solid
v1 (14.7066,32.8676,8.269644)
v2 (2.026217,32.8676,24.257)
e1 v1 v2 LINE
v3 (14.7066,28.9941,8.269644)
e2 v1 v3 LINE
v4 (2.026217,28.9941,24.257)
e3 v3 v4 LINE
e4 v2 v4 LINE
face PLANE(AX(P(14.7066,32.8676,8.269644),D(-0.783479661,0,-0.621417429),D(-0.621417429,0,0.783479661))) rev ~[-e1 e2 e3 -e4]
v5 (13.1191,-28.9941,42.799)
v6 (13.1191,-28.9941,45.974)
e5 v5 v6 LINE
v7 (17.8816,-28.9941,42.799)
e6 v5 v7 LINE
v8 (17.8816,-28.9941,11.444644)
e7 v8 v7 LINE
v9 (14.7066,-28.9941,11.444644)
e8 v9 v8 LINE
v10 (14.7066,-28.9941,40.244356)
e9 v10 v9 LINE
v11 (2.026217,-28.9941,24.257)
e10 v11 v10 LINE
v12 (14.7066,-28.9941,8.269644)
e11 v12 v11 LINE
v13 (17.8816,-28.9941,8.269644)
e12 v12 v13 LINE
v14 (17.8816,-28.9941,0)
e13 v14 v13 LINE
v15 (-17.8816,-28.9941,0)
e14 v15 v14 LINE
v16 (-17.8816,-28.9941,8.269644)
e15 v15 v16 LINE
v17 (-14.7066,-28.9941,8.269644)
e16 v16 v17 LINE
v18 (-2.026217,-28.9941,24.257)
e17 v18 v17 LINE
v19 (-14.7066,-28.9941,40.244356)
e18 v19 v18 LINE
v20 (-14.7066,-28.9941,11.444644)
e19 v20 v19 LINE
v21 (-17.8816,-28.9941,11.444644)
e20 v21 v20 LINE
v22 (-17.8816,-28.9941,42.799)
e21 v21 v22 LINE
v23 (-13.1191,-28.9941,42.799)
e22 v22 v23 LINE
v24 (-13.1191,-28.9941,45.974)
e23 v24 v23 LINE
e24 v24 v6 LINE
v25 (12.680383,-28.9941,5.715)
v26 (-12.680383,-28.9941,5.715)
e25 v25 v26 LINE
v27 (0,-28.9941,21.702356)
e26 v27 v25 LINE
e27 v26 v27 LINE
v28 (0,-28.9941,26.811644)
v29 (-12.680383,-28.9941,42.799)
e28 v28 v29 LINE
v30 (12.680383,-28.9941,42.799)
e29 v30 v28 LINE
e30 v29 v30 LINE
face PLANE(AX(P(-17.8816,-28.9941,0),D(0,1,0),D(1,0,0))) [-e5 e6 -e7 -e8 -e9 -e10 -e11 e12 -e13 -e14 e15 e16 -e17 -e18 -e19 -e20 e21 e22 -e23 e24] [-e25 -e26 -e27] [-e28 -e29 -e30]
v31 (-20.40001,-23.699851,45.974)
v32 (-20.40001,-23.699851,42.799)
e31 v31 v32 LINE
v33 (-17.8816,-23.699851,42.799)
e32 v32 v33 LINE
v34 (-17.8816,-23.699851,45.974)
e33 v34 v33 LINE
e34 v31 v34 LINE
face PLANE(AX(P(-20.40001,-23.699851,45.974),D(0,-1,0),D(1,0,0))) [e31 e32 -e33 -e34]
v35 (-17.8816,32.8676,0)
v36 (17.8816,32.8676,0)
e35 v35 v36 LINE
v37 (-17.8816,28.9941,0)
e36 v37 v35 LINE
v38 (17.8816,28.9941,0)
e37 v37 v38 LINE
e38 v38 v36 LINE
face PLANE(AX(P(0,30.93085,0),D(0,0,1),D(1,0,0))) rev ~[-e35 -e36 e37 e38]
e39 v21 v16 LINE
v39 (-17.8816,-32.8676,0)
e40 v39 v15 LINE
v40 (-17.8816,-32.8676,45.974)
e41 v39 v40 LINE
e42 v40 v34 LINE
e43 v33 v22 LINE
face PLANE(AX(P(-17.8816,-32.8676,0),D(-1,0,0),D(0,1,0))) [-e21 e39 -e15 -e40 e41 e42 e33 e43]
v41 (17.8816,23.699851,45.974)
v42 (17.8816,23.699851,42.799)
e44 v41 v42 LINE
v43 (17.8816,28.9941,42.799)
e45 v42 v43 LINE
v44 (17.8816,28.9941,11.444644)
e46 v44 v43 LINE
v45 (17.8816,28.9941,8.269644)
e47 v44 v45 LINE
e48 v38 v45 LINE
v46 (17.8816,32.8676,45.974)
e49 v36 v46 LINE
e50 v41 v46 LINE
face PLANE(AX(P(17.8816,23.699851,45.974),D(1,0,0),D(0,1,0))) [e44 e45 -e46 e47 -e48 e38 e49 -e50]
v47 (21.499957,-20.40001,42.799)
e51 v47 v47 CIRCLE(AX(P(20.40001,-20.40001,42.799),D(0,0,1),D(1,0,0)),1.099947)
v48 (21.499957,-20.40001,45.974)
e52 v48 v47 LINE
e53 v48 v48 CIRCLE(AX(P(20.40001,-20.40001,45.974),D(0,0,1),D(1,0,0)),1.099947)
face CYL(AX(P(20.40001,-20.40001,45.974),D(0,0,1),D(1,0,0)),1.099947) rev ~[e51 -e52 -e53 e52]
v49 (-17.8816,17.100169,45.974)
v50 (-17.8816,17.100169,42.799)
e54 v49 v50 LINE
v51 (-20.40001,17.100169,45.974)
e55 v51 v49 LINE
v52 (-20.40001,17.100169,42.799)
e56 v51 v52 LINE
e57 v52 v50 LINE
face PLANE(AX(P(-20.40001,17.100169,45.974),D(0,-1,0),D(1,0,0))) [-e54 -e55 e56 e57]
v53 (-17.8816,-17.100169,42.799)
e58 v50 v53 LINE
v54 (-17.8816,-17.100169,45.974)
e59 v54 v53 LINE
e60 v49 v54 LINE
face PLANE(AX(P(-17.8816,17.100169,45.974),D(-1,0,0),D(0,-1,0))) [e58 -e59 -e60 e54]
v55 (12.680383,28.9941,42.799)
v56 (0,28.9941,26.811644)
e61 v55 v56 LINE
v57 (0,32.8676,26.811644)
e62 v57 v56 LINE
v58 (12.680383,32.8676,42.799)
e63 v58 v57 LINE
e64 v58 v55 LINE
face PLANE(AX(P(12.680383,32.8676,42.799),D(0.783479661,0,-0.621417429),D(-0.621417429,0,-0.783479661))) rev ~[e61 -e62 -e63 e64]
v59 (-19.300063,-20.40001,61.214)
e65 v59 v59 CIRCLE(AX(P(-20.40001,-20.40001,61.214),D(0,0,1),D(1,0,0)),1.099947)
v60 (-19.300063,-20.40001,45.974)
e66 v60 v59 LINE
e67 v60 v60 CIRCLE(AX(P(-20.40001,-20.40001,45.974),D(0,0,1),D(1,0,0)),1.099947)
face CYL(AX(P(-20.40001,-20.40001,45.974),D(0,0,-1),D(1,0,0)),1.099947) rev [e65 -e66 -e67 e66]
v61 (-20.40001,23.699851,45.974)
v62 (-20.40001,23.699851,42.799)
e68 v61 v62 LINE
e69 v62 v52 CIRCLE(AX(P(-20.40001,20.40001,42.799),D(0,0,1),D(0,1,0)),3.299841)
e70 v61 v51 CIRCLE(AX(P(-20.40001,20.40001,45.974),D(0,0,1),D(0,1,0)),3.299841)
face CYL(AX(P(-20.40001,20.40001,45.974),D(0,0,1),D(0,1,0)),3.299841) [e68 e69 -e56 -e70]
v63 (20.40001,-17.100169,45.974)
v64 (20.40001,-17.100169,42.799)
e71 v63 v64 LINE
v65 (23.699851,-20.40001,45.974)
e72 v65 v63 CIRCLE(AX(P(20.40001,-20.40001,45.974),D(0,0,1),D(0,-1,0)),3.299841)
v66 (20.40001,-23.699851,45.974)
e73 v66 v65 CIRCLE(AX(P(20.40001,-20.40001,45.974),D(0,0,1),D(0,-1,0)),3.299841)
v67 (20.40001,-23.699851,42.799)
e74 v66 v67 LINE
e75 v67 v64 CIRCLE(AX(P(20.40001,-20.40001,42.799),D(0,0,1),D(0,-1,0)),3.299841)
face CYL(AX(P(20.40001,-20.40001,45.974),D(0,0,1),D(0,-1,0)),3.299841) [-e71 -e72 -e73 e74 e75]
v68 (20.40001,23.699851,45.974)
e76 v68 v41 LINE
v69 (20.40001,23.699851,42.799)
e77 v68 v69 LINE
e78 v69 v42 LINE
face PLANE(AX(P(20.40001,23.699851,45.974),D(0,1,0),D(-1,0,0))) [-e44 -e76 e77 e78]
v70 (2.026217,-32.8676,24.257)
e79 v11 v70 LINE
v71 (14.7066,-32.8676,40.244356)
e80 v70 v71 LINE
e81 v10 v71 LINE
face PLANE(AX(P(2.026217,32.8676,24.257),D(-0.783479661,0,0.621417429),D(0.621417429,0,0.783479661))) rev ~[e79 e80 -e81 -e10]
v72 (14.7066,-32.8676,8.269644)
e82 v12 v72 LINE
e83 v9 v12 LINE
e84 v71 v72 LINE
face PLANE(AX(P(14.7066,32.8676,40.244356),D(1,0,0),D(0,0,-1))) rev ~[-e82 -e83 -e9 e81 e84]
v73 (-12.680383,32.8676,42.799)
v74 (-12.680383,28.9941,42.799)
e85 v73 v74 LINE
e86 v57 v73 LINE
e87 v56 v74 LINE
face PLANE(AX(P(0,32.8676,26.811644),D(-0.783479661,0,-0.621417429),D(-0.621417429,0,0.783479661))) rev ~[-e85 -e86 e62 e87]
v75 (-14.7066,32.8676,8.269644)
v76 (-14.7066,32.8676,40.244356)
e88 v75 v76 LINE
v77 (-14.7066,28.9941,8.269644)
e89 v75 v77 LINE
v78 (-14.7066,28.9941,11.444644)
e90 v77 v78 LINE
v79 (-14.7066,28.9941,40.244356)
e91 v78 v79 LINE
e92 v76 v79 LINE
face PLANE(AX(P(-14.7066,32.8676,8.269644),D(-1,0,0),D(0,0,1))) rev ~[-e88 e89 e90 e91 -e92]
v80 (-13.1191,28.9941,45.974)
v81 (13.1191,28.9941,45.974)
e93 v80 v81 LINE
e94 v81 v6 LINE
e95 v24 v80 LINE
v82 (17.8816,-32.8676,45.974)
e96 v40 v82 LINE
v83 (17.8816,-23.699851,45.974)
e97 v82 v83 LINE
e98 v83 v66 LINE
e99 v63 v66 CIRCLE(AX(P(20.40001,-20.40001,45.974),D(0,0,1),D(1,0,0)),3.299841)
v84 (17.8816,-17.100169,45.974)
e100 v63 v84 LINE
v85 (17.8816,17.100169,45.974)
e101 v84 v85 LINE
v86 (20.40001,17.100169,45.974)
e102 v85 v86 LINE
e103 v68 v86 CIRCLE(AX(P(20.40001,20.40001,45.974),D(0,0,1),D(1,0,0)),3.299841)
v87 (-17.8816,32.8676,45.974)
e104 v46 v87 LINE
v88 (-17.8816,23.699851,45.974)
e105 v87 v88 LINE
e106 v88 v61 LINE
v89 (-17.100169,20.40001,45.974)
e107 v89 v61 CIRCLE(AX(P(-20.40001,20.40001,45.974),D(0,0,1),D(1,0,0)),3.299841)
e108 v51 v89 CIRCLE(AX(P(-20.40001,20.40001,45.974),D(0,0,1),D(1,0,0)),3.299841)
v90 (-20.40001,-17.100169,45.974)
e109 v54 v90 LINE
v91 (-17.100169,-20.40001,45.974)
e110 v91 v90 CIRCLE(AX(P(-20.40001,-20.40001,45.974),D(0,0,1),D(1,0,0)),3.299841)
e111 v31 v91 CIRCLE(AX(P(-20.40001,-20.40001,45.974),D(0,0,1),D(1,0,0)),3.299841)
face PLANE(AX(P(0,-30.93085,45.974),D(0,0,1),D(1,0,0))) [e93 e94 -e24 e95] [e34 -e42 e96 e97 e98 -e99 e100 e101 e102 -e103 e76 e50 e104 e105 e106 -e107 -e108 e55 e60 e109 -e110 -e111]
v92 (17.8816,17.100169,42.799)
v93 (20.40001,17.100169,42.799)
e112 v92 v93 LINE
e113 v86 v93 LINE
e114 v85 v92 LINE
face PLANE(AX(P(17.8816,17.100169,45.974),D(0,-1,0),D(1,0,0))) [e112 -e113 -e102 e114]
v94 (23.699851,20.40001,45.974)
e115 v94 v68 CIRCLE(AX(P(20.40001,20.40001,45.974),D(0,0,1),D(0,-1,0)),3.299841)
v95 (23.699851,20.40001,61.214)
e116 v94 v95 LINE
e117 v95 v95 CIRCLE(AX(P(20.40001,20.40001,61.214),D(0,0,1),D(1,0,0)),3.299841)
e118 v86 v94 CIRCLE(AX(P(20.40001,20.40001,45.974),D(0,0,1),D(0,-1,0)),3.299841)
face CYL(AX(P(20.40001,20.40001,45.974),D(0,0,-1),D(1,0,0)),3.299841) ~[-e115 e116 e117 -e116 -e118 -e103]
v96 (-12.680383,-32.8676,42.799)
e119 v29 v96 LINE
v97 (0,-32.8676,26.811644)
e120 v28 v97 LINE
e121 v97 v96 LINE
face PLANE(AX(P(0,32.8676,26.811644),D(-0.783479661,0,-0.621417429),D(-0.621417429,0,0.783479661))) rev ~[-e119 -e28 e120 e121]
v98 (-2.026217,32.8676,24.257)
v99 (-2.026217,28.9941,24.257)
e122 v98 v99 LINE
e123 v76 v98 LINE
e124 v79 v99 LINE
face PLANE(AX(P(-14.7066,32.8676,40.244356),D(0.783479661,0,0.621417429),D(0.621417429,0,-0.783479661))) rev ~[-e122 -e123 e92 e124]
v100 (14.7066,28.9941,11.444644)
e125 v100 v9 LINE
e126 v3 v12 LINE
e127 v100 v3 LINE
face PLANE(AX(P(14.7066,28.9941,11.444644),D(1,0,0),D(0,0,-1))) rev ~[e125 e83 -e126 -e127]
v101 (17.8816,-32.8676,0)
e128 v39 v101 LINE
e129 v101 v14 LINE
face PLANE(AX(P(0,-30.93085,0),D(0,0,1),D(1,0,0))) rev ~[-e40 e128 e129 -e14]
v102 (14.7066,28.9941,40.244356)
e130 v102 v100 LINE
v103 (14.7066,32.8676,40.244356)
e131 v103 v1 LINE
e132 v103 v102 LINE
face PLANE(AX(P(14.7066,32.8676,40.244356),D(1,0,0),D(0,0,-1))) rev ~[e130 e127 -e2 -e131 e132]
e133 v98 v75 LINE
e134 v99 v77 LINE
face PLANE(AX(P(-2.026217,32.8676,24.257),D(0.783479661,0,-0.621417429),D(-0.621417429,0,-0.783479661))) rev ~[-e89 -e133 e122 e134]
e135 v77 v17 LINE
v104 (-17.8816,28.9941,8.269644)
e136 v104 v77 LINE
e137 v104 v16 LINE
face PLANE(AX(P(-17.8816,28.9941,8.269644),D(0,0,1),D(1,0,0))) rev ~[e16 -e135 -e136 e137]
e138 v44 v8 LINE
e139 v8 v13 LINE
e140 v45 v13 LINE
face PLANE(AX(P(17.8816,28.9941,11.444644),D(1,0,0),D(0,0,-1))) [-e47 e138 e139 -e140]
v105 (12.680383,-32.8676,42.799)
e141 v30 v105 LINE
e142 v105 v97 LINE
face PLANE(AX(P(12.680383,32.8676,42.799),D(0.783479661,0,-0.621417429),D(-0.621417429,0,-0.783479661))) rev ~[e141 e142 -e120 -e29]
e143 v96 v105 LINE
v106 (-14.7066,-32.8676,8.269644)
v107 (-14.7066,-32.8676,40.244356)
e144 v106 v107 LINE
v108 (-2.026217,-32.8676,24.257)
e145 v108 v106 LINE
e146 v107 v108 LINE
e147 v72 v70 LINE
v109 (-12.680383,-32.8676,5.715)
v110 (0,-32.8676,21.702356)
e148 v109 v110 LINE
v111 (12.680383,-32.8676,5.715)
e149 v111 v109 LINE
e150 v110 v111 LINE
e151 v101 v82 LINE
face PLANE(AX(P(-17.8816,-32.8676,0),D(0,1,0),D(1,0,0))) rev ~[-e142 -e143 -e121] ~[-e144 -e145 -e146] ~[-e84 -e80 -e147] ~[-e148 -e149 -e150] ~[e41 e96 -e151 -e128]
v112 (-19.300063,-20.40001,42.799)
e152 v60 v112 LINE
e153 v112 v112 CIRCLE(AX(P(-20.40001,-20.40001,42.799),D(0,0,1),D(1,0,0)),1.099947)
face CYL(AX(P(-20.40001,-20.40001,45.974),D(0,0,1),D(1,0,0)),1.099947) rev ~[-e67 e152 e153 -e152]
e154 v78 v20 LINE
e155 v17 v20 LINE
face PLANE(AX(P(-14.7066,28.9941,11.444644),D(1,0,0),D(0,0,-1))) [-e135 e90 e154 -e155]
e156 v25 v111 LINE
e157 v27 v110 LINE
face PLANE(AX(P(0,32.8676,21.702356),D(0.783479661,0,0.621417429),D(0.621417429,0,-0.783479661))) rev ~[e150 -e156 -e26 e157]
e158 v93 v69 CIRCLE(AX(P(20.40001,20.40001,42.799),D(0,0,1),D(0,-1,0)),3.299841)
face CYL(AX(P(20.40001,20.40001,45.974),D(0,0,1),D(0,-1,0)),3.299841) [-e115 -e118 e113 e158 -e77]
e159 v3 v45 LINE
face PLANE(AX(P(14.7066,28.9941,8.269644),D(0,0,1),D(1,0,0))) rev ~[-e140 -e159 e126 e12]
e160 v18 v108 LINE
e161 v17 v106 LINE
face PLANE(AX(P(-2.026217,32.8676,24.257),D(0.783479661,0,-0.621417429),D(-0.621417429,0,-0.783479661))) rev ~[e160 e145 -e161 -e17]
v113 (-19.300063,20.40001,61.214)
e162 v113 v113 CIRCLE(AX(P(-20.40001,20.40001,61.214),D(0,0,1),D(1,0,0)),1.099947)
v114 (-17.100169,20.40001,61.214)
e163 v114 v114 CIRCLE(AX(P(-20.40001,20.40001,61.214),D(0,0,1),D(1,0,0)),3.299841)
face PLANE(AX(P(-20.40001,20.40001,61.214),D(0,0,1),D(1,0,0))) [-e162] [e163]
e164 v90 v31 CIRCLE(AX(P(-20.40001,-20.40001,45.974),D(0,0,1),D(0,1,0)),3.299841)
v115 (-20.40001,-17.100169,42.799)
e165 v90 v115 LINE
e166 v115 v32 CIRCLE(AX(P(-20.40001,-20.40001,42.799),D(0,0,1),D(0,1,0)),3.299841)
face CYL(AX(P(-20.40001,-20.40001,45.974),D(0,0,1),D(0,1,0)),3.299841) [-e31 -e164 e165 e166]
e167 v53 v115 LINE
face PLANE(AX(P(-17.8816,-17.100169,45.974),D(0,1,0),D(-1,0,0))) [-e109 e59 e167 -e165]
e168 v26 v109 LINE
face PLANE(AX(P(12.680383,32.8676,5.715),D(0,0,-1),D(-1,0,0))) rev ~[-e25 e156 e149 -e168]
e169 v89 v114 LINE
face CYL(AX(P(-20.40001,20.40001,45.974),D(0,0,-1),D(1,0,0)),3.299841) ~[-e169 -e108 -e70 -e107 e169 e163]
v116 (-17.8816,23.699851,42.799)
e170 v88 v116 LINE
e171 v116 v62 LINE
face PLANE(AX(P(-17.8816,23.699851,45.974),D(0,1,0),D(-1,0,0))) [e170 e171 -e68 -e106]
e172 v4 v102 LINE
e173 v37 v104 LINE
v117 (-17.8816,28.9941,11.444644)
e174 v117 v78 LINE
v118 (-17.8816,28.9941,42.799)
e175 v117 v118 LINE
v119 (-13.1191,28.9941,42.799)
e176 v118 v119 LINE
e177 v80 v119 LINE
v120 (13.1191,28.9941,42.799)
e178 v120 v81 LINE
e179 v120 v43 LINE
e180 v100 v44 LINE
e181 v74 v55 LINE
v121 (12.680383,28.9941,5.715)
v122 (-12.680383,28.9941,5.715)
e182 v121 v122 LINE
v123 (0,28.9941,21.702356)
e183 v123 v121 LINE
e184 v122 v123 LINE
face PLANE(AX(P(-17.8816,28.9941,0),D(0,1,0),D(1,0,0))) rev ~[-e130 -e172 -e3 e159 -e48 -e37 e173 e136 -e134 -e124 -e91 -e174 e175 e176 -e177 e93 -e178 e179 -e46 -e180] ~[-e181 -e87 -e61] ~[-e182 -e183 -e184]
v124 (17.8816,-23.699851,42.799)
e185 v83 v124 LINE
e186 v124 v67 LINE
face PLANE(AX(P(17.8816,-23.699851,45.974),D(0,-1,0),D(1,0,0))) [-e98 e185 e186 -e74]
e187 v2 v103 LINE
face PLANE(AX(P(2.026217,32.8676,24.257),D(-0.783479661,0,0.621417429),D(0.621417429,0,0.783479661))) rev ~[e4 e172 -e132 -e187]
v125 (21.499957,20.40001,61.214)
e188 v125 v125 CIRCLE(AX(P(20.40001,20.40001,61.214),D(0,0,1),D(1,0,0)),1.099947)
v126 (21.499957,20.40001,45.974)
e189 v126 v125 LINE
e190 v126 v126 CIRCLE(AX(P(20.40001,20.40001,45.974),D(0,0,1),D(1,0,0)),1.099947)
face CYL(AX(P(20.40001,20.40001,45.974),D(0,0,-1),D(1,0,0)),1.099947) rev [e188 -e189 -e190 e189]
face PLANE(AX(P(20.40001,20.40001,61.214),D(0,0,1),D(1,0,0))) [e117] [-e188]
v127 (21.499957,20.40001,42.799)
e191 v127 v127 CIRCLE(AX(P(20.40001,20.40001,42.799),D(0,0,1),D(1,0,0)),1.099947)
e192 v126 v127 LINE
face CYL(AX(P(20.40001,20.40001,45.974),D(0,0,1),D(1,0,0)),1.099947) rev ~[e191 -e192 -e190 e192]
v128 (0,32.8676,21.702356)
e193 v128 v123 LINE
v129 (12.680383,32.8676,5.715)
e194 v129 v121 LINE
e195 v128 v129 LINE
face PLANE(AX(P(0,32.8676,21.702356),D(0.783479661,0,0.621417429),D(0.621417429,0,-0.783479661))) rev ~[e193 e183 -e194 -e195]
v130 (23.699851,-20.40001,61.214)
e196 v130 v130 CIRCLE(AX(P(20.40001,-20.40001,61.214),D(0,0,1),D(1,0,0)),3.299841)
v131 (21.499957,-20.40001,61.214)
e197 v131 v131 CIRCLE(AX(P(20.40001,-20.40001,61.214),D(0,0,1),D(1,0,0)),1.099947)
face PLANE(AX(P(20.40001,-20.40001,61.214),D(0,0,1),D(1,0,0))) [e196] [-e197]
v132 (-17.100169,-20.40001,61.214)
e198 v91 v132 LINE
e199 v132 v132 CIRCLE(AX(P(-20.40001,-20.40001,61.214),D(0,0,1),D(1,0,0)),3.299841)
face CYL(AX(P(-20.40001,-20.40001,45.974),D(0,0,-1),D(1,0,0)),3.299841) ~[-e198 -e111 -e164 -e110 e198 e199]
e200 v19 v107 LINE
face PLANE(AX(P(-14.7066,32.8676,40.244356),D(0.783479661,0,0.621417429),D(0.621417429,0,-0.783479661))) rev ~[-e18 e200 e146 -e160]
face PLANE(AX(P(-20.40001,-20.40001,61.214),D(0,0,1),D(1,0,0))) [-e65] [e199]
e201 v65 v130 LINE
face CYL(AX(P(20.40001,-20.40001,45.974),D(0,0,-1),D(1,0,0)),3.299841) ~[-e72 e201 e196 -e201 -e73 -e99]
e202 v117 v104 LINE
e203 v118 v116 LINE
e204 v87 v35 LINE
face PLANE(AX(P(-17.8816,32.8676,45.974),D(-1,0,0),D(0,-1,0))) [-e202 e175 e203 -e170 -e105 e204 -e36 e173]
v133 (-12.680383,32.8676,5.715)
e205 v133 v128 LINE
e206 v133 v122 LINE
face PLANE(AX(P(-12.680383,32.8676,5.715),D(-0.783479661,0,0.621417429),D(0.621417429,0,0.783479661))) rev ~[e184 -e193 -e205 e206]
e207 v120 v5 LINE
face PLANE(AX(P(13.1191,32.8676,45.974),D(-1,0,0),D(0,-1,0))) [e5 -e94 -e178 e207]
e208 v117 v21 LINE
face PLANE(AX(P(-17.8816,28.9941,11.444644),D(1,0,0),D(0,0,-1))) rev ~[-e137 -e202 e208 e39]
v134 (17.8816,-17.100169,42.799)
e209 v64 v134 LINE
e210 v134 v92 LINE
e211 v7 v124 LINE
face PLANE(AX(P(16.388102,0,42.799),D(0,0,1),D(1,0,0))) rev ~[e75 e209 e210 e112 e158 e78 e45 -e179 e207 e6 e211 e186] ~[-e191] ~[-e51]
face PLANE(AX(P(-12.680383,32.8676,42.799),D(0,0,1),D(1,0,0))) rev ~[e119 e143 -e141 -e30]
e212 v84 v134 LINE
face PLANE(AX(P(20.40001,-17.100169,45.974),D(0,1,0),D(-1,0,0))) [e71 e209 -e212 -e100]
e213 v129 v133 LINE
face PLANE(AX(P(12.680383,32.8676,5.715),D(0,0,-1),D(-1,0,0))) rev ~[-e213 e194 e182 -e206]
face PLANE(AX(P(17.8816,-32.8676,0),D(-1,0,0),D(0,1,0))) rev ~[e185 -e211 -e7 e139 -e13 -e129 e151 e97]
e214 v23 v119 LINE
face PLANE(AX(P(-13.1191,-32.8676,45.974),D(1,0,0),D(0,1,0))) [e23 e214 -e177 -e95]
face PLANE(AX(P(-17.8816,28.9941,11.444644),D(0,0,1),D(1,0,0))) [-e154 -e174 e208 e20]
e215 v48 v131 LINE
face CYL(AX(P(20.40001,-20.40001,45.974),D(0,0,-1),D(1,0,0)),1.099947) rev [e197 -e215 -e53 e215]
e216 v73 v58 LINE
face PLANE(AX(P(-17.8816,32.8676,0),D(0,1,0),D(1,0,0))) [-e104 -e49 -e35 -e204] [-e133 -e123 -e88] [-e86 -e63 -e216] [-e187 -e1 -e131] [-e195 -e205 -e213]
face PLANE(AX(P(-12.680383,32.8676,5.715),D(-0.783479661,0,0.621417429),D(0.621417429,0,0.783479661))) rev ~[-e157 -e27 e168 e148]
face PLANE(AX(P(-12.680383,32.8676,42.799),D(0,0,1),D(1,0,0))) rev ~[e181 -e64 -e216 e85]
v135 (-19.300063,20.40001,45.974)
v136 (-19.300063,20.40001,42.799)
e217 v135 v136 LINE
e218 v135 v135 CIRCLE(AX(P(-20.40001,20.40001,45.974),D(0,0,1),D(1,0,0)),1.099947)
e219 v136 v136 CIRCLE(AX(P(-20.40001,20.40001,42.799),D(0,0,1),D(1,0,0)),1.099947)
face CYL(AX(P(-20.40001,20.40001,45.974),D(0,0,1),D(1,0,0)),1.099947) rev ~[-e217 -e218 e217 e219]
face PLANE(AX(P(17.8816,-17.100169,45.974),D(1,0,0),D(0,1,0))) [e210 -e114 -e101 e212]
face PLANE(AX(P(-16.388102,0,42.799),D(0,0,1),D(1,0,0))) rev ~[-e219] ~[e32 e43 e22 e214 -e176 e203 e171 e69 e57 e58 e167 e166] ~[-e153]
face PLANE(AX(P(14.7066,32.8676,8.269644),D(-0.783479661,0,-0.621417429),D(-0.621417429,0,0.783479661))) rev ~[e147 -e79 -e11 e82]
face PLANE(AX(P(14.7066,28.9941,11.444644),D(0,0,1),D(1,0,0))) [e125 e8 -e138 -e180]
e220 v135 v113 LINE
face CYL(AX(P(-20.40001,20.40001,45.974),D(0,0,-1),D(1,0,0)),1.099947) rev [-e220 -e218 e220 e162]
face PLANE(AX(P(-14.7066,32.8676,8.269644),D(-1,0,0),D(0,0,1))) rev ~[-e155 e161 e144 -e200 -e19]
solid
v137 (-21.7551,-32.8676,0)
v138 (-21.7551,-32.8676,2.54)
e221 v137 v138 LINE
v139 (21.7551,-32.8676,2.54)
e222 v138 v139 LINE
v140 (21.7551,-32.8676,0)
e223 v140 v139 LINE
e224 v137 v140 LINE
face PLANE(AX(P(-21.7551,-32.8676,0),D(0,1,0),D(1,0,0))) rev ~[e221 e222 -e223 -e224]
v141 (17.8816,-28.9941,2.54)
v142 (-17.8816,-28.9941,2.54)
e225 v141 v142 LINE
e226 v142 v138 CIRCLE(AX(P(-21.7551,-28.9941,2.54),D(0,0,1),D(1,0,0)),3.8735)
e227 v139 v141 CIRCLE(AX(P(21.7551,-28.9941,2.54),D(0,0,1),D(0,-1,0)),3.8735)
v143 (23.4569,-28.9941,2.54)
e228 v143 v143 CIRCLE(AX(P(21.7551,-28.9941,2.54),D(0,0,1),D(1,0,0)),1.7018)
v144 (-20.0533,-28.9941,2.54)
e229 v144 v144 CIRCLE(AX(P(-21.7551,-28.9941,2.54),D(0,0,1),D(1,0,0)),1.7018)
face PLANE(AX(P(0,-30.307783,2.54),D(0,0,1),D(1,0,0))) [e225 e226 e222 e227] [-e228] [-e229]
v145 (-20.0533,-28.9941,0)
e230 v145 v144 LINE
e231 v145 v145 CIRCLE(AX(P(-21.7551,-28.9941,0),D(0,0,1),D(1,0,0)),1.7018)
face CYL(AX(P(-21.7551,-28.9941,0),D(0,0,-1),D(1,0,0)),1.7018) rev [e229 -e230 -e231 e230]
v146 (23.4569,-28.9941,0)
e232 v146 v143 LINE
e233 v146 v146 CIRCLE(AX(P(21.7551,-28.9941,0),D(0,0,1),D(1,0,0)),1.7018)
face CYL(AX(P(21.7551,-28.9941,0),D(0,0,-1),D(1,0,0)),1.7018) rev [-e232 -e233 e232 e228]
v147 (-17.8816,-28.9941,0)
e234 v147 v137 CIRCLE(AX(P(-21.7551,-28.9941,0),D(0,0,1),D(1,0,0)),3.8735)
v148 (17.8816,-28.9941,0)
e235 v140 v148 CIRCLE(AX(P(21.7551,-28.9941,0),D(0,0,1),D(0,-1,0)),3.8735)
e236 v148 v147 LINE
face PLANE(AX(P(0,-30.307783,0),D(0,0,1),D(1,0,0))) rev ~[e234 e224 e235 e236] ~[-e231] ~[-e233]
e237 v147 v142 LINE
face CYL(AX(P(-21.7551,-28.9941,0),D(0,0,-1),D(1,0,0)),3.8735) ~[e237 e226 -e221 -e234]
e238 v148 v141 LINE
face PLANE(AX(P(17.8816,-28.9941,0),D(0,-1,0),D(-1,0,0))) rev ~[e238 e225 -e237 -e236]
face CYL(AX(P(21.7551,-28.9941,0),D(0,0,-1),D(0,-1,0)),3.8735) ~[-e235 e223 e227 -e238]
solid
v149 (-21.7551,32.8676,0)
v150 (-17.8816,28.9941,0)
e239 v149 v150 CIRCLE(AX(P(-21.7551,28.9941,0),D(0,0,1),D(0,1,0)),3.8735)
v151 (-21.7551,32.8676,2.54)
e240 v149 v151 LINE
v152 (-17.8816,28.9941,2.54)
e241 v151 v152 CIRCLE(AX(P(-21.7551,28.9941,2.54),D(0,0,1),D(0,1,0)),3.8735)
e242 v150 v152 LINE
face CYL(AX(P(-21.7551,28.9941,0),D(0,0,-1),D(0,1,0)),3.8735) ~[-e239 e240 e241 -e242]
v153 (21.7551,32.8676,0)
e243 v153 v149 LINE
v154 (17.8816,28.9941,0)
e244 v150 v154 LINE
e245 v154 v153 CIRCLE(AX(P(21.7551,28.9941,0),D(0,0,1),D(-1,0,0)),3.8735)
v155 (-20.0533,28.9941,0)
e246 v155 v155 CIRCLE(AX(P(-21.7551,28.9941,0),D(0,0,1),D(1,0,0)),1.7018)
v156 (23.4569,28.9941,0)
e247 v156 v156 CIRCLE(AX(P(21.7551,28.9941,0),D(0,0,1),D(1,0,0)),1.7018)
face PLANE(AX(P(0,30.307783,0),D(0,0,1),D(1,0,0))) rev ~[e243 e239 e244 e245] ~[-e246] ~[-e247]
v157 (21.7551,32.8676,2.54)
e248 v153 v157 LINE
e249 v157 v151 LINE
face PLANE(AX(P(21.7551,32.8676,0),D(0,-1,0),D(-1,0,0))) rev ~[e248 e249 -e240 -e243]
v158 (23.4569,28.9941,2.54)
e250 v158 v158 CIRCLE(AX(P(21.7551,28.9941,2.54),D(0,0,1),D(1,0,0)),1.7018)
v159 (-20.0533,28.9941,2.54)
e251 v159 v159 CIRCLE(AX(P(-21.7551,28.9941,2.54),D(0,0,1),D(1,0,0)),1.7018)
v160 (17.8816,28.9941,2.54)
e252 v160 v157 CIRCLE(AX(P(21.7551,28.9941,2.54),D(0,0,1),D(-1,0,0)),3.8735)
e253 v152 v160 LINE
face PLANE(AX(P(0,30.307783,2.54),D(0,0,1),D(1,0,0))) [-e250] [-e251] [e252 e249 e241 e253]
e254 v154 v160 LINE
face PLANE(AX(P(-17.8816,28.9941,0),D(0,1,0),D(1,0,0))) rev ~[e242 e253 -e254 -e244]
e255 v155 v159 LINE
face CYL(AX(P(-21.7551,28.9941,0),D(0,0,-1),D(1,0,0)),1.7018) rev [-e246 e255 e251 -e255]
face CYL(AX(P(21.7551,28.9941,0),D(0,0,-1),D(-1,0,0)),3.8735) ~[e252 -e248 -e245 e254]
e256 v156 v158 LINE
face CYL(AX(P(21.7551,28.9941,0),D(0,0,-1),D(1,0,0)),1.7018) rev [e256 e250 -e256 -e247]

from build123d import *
from build123d.topology import SkipClean

# Parameters (mm, degrees)
SKETCH1_R             = 1.7018
BOSS_EXTRUDE2_DEPTH   = 2.54
BOSS_EXTRUDE2_2_DEPTH = 2.54
BOSS_EXTRUDE3_START   = -2.54
SKETCH2_W             = 35.7632
SKETCH2_H             = 3.8735
BOSS_EXTRUDE3_DEPTH   = 45.974
BOSS_EXTRUDE3_2_DEPTH = 45.974
CUT_EXTRUDE3_DEPTH    = 85.211343256
BOSS_EXTRUDE4_START   = 45.974
SKETCH7_R             = 1.099947
BOSS_EXTRUDE4_DEPTH   = 3.175
SKETCH8_R             = 3.299841
SKETCH8_R_2           = 1.099947
BOSS_EXTRUDE5_DEPTH   = 15.24
BOSS_EXTRUDE6_START   = -3.8735
SKETCH9_W             = 3.175
SKETCH9_H             = 3.175
BOSS_EXTRUDE6_DEPTH   = 57.9882


with BuildPart() as part:
    # Sketch1 → Boss-Extrude2 (new body)
    with BuildSketch(Plane.XY):
        with BuildLine():
            Line((21.7551, 32.8676), (-21.7551, 32.8676))
            ThreePointArc((-21.7551, 32.8676), (-24.494078117, 26.255121883), (-17.8816, 28.9941))
            Line((-17.8816, 28.9941), (17.8816, 28.9941))
            ThreePointArc((17.8816, 28.9941), (24.494078117, 26.255121883), (21.7551, 32.8676))
        make_face()
        with Locations((-21.7551, 28.9941)):
            Circle(SKETCH1_R, mode=Mode.SUBTRACT)
        with Locations((21.7551, 28.9941)):
            Circle(SKETCH1_R, mode=Mode.SUBTRACT)
    extrude(amount=BOSS_EXTRUDE2_DEPTH)


with BuildPart() as body_2:
    # Sketch1 → Boss-Extrude2 2 (new body)
    with BuildSketch(Plane.XY):
        with BuildLine():
            Line((17.8816, -28.9941), (-17.8816, -28.9941))
            ThreePointArc((-17.8816, -28.9941), (-24.494078117, -26.255121883), (-21.7551, -32.8676))
            Line((-21.7551, -32.8676), (21.7551, -32.8676))
            ThreePointArc((21.7551, -32.8676), (24.494078117, -26.255121883), (17.8816, -28.9941))
        make_face()
        with Locations((-21.7551, -28.9941)):
            Circle(SKETCH1_R, mode=Mode.SUBTRACT)
        with Locations((21.7551, -28.9941)):
            Circle(SKETCH1_R, mode=Mode.SUBTRACT)
    extrude(amount=BOSS_EXTRUDE2_2_DEPTH)


with BuildPart() as body_3:
    # Sketch2 → Boss-Extrude3 (new body)
    with BuildSketch(Plane.XY.offset(2.54).offset(BOSS_EXTRUDE3_START)):
        with Locations((0, 30.93085)):
            Rectangle(SKETCH2_W, SKETCH2_H)
    extrude(amount=BOSS_EXTRUDE3_DEPTH)


with BuildPart() as body_4:
    # Sketch2 → Boss-Extrude3 2 (new body)
    with BuildSketch(Plane.XY.offset(2.54).offset(BOSS_EXTRUDE3_START)):
        with Locations((0, -30.93085)):
            Rectangle(SKETCH2_W, SKETCH2_H)
    extrude(amount=BOSS_EXTRUDE3_2_DEPTH)


with BuildPart() as cut_extrude3_tool:
    # Sketch6 → Cut-Extrude3 (new, through all)
    with BuildSketch(Plane(origin=(0, 32.8676, 0), x_dir=(1, 0, 0), z_dir=(0, 1, 0))):
        Polygon((-14.7066, -40.244356495), (-2.026217246, -24.257), (-14.7066, -8.269643505), align=None)
        Polygon((-12.680382754, -5.715), (0, -21.702356495), (12.680382754, -5.715), align=None)
        Polygon((14.7066, -8.269643505), (2.026217246, -24.257), (14.7066, -40.244356495), align=None)
        Polygon((0, -26.811643505), (-12.680382754, -42.799), (12.680382754, -42.799), align=None)
    extrude(amount=-CUT_EXTRUDE3_DEPTH)


with BuildPart() as body_3_1:
    add(body_3.part)

    # Cut-Extrude3: cut by cut_extrude3_tool
    add(cut_extrude3_tool.part, mode=Mode.SUBTRACT)



with BuildPart() as body_4_1:
    add(body_4.part)

    # Cut-Extrude3: cut by cut_extrude3_tool
    add(cut_extrude3_tool.part, mode=Mode.SUBTRACT)


with BuildPart() as body_3_2:
    add(body_3_1.part)

    add(body_4_1.part)  # Boss-Extrude4 merges body 4
    # Sketch7 → Boss-Extrude4 (add)
    # profile 1 of 2: a face of its own
    with BuildSketch(Plane.XY.offset(BOSS_EXTRUDE4_START)):
        with BuildLine():
            Line((-13.1191, -32.8676), (-13.1191, 32.8676))
            Line((-13.1191, 32.8676), (-17.8816, 32.8676))
            Line((-17.8816, 32.8676), (-17.8816, 23.699851))
            Line((-17.8816, 23.699851), (-20.40001, 23.699851))
            ThreePointArc((-20.40001, 23.699851), (-23.699851, 20.40001), (-20.40001, 17.100169))
            Line((-20.40001, 17.100169), (-17.8816, 17.100169))
            Line((-17.8816, 17.100169), (-17.8816, -17.100169))
            Line((-17.8816, -17.100169), (-20.40001, -17.100169))
            ThreePointArc((-20.40001, -17.100169), (-23.699851, -20.40001), (-20.40001, -23.699851))
            Line((-20.40001, -23.699851), (-17.8816, -23.699851))
            Line((-17.8816, -23.699851), (-17.8816, -32.8676))
            Line((-17.8816, -32.8676), (-13.1191, -32.8676))
        make_face()
        with Locations((-20.40001, -20.40001)):
            Circle(SKETCH7_R, mode=Mode.SUBTRACT)
        with Locations((-20.40001, 20.40001)):
            Circle(SKETCH7_R, mode=Mode.SUBTRACT)
    # profile 2 of 2: a face of its own
    with BuildSketch(Plane.XY.offset(BOSS_EXTRUDE4_START)):
        with BuildLine():
            Line((17.8816, 32.8676), (13.1191, 32.8676))
            Line((13.1191, 32.8676), (13.1191, -32.8676))
            Line((13.1191, -32.8676), (17.8816, -32.8676))
            Line((17.8816, -32.8676), (17.8816, -23.699851))
            Line((17.8816, -23.699851), (20.40001, -23.699851))
            ThreePointArc((20.40001, -23.699851), (23.699851, -20.40001), (20.40001, -17.100169))
            Line((20.40001, -17.100169), (17.8816, -17.100169))
            Line((17.8816, -17.100169), (17.8816, 17.100169))
            Line((17.8816, 17.100169), (20.40001, 17.100169))
            ThreePointArc((20.40001, 17.100169), (23.699851, 20.40001), (20.40001, 23.699851))
            Line((20.40001, 23.699851), (17.8816, 23.699851))
            Line((17.8816, 23.699851), (17.8816, 32.8676))
        make_face()
        with Locations((20.40001, 20.40001)):
            Circle(SKETCH7_R, mode=Mode.SUBTRACT)
        with Locations((20.40001, -20.40001)):
            Circle(SKETCH7_R, mode=Mode.SUBTRACT)
    extrude(amount=-BOSS_EXTRUDE4_DEPTH)

    # Sketch8 → Boss-Extrude5 (add)
    # profile 1 of 4: a face of its own
    with SkipClean():  # the faces are left unmerged after this step: merging them gives an invalid solid
        with BuildSketch(Plane.XY.offset(45.974)):
            with Locations((-20.40001, 20.40001)):
                Circle(SKETCH8_R)
            with Locations((-20.40001, 20.40001)):
                Circle(SKETCH8_R_2, mode=Mode.SUBTRACT)
        # profile 2 of 4: a face of its own
        with BuildSketch(Plane.XY.offset(45.974)):
            with Locations((20.40001, 20.40001)):
                Circle(SKETCH8_R)
            with Locations((20.40001, 20.40001)):
                Circle(SKETCH8_R_2, mode=Mode.SUBTRACT)
        # profile 3 of 4: a face of its own
        with BuildSketch(Plane.XY.offset(45.974)):
            with Locations((20.40001, -20.40001)):
                Circle(SKETCH8_R)
            with Locations((20.40001, -20.40001)):
                Circle(SKETCH8_R_2, mode=Mode.SUBTRACT)
        # profile 4 of 4: a face of its own
        with BuildSketch(Plane.XY.offset(45.974)):
            with Locations((-20.40001, -20.40001)):
                Circle(SKETCH8_R)
            with Locations((-20.40001, -20.40001)):
                Circle(SKETCH8_R_2, mode=Mode.SUBTRACT)
        extrude(amount=BOSS_EXTRUDE5_DEPTH)

    # Sketch9 → Boss-Extrude6 (add)
    with SkipClean():  # the faces are left unmerged after this step: merging them gives an invalid solid
        with BuildSketch(Plane(origin=(0, 32.8676, 0), x_dir=(1, 0, 0), z_dir=(0, 1, 0)).offset(BOSS_EXTRUDE6_START)):
            with Locations((-16.2941, -9.857143505)):
                Rectangle(SKETCH9_W, SKETCH9_H)
            with Locations((16.2941, -9.857143505)):
                Rectangle(SKETCH9_W, SKETCH9_H)
        extrude(amount=-BOSS_EXTRUDE6_DEPTH)


solid = Compound([part.part, body_2.part, body_3_2.part])
